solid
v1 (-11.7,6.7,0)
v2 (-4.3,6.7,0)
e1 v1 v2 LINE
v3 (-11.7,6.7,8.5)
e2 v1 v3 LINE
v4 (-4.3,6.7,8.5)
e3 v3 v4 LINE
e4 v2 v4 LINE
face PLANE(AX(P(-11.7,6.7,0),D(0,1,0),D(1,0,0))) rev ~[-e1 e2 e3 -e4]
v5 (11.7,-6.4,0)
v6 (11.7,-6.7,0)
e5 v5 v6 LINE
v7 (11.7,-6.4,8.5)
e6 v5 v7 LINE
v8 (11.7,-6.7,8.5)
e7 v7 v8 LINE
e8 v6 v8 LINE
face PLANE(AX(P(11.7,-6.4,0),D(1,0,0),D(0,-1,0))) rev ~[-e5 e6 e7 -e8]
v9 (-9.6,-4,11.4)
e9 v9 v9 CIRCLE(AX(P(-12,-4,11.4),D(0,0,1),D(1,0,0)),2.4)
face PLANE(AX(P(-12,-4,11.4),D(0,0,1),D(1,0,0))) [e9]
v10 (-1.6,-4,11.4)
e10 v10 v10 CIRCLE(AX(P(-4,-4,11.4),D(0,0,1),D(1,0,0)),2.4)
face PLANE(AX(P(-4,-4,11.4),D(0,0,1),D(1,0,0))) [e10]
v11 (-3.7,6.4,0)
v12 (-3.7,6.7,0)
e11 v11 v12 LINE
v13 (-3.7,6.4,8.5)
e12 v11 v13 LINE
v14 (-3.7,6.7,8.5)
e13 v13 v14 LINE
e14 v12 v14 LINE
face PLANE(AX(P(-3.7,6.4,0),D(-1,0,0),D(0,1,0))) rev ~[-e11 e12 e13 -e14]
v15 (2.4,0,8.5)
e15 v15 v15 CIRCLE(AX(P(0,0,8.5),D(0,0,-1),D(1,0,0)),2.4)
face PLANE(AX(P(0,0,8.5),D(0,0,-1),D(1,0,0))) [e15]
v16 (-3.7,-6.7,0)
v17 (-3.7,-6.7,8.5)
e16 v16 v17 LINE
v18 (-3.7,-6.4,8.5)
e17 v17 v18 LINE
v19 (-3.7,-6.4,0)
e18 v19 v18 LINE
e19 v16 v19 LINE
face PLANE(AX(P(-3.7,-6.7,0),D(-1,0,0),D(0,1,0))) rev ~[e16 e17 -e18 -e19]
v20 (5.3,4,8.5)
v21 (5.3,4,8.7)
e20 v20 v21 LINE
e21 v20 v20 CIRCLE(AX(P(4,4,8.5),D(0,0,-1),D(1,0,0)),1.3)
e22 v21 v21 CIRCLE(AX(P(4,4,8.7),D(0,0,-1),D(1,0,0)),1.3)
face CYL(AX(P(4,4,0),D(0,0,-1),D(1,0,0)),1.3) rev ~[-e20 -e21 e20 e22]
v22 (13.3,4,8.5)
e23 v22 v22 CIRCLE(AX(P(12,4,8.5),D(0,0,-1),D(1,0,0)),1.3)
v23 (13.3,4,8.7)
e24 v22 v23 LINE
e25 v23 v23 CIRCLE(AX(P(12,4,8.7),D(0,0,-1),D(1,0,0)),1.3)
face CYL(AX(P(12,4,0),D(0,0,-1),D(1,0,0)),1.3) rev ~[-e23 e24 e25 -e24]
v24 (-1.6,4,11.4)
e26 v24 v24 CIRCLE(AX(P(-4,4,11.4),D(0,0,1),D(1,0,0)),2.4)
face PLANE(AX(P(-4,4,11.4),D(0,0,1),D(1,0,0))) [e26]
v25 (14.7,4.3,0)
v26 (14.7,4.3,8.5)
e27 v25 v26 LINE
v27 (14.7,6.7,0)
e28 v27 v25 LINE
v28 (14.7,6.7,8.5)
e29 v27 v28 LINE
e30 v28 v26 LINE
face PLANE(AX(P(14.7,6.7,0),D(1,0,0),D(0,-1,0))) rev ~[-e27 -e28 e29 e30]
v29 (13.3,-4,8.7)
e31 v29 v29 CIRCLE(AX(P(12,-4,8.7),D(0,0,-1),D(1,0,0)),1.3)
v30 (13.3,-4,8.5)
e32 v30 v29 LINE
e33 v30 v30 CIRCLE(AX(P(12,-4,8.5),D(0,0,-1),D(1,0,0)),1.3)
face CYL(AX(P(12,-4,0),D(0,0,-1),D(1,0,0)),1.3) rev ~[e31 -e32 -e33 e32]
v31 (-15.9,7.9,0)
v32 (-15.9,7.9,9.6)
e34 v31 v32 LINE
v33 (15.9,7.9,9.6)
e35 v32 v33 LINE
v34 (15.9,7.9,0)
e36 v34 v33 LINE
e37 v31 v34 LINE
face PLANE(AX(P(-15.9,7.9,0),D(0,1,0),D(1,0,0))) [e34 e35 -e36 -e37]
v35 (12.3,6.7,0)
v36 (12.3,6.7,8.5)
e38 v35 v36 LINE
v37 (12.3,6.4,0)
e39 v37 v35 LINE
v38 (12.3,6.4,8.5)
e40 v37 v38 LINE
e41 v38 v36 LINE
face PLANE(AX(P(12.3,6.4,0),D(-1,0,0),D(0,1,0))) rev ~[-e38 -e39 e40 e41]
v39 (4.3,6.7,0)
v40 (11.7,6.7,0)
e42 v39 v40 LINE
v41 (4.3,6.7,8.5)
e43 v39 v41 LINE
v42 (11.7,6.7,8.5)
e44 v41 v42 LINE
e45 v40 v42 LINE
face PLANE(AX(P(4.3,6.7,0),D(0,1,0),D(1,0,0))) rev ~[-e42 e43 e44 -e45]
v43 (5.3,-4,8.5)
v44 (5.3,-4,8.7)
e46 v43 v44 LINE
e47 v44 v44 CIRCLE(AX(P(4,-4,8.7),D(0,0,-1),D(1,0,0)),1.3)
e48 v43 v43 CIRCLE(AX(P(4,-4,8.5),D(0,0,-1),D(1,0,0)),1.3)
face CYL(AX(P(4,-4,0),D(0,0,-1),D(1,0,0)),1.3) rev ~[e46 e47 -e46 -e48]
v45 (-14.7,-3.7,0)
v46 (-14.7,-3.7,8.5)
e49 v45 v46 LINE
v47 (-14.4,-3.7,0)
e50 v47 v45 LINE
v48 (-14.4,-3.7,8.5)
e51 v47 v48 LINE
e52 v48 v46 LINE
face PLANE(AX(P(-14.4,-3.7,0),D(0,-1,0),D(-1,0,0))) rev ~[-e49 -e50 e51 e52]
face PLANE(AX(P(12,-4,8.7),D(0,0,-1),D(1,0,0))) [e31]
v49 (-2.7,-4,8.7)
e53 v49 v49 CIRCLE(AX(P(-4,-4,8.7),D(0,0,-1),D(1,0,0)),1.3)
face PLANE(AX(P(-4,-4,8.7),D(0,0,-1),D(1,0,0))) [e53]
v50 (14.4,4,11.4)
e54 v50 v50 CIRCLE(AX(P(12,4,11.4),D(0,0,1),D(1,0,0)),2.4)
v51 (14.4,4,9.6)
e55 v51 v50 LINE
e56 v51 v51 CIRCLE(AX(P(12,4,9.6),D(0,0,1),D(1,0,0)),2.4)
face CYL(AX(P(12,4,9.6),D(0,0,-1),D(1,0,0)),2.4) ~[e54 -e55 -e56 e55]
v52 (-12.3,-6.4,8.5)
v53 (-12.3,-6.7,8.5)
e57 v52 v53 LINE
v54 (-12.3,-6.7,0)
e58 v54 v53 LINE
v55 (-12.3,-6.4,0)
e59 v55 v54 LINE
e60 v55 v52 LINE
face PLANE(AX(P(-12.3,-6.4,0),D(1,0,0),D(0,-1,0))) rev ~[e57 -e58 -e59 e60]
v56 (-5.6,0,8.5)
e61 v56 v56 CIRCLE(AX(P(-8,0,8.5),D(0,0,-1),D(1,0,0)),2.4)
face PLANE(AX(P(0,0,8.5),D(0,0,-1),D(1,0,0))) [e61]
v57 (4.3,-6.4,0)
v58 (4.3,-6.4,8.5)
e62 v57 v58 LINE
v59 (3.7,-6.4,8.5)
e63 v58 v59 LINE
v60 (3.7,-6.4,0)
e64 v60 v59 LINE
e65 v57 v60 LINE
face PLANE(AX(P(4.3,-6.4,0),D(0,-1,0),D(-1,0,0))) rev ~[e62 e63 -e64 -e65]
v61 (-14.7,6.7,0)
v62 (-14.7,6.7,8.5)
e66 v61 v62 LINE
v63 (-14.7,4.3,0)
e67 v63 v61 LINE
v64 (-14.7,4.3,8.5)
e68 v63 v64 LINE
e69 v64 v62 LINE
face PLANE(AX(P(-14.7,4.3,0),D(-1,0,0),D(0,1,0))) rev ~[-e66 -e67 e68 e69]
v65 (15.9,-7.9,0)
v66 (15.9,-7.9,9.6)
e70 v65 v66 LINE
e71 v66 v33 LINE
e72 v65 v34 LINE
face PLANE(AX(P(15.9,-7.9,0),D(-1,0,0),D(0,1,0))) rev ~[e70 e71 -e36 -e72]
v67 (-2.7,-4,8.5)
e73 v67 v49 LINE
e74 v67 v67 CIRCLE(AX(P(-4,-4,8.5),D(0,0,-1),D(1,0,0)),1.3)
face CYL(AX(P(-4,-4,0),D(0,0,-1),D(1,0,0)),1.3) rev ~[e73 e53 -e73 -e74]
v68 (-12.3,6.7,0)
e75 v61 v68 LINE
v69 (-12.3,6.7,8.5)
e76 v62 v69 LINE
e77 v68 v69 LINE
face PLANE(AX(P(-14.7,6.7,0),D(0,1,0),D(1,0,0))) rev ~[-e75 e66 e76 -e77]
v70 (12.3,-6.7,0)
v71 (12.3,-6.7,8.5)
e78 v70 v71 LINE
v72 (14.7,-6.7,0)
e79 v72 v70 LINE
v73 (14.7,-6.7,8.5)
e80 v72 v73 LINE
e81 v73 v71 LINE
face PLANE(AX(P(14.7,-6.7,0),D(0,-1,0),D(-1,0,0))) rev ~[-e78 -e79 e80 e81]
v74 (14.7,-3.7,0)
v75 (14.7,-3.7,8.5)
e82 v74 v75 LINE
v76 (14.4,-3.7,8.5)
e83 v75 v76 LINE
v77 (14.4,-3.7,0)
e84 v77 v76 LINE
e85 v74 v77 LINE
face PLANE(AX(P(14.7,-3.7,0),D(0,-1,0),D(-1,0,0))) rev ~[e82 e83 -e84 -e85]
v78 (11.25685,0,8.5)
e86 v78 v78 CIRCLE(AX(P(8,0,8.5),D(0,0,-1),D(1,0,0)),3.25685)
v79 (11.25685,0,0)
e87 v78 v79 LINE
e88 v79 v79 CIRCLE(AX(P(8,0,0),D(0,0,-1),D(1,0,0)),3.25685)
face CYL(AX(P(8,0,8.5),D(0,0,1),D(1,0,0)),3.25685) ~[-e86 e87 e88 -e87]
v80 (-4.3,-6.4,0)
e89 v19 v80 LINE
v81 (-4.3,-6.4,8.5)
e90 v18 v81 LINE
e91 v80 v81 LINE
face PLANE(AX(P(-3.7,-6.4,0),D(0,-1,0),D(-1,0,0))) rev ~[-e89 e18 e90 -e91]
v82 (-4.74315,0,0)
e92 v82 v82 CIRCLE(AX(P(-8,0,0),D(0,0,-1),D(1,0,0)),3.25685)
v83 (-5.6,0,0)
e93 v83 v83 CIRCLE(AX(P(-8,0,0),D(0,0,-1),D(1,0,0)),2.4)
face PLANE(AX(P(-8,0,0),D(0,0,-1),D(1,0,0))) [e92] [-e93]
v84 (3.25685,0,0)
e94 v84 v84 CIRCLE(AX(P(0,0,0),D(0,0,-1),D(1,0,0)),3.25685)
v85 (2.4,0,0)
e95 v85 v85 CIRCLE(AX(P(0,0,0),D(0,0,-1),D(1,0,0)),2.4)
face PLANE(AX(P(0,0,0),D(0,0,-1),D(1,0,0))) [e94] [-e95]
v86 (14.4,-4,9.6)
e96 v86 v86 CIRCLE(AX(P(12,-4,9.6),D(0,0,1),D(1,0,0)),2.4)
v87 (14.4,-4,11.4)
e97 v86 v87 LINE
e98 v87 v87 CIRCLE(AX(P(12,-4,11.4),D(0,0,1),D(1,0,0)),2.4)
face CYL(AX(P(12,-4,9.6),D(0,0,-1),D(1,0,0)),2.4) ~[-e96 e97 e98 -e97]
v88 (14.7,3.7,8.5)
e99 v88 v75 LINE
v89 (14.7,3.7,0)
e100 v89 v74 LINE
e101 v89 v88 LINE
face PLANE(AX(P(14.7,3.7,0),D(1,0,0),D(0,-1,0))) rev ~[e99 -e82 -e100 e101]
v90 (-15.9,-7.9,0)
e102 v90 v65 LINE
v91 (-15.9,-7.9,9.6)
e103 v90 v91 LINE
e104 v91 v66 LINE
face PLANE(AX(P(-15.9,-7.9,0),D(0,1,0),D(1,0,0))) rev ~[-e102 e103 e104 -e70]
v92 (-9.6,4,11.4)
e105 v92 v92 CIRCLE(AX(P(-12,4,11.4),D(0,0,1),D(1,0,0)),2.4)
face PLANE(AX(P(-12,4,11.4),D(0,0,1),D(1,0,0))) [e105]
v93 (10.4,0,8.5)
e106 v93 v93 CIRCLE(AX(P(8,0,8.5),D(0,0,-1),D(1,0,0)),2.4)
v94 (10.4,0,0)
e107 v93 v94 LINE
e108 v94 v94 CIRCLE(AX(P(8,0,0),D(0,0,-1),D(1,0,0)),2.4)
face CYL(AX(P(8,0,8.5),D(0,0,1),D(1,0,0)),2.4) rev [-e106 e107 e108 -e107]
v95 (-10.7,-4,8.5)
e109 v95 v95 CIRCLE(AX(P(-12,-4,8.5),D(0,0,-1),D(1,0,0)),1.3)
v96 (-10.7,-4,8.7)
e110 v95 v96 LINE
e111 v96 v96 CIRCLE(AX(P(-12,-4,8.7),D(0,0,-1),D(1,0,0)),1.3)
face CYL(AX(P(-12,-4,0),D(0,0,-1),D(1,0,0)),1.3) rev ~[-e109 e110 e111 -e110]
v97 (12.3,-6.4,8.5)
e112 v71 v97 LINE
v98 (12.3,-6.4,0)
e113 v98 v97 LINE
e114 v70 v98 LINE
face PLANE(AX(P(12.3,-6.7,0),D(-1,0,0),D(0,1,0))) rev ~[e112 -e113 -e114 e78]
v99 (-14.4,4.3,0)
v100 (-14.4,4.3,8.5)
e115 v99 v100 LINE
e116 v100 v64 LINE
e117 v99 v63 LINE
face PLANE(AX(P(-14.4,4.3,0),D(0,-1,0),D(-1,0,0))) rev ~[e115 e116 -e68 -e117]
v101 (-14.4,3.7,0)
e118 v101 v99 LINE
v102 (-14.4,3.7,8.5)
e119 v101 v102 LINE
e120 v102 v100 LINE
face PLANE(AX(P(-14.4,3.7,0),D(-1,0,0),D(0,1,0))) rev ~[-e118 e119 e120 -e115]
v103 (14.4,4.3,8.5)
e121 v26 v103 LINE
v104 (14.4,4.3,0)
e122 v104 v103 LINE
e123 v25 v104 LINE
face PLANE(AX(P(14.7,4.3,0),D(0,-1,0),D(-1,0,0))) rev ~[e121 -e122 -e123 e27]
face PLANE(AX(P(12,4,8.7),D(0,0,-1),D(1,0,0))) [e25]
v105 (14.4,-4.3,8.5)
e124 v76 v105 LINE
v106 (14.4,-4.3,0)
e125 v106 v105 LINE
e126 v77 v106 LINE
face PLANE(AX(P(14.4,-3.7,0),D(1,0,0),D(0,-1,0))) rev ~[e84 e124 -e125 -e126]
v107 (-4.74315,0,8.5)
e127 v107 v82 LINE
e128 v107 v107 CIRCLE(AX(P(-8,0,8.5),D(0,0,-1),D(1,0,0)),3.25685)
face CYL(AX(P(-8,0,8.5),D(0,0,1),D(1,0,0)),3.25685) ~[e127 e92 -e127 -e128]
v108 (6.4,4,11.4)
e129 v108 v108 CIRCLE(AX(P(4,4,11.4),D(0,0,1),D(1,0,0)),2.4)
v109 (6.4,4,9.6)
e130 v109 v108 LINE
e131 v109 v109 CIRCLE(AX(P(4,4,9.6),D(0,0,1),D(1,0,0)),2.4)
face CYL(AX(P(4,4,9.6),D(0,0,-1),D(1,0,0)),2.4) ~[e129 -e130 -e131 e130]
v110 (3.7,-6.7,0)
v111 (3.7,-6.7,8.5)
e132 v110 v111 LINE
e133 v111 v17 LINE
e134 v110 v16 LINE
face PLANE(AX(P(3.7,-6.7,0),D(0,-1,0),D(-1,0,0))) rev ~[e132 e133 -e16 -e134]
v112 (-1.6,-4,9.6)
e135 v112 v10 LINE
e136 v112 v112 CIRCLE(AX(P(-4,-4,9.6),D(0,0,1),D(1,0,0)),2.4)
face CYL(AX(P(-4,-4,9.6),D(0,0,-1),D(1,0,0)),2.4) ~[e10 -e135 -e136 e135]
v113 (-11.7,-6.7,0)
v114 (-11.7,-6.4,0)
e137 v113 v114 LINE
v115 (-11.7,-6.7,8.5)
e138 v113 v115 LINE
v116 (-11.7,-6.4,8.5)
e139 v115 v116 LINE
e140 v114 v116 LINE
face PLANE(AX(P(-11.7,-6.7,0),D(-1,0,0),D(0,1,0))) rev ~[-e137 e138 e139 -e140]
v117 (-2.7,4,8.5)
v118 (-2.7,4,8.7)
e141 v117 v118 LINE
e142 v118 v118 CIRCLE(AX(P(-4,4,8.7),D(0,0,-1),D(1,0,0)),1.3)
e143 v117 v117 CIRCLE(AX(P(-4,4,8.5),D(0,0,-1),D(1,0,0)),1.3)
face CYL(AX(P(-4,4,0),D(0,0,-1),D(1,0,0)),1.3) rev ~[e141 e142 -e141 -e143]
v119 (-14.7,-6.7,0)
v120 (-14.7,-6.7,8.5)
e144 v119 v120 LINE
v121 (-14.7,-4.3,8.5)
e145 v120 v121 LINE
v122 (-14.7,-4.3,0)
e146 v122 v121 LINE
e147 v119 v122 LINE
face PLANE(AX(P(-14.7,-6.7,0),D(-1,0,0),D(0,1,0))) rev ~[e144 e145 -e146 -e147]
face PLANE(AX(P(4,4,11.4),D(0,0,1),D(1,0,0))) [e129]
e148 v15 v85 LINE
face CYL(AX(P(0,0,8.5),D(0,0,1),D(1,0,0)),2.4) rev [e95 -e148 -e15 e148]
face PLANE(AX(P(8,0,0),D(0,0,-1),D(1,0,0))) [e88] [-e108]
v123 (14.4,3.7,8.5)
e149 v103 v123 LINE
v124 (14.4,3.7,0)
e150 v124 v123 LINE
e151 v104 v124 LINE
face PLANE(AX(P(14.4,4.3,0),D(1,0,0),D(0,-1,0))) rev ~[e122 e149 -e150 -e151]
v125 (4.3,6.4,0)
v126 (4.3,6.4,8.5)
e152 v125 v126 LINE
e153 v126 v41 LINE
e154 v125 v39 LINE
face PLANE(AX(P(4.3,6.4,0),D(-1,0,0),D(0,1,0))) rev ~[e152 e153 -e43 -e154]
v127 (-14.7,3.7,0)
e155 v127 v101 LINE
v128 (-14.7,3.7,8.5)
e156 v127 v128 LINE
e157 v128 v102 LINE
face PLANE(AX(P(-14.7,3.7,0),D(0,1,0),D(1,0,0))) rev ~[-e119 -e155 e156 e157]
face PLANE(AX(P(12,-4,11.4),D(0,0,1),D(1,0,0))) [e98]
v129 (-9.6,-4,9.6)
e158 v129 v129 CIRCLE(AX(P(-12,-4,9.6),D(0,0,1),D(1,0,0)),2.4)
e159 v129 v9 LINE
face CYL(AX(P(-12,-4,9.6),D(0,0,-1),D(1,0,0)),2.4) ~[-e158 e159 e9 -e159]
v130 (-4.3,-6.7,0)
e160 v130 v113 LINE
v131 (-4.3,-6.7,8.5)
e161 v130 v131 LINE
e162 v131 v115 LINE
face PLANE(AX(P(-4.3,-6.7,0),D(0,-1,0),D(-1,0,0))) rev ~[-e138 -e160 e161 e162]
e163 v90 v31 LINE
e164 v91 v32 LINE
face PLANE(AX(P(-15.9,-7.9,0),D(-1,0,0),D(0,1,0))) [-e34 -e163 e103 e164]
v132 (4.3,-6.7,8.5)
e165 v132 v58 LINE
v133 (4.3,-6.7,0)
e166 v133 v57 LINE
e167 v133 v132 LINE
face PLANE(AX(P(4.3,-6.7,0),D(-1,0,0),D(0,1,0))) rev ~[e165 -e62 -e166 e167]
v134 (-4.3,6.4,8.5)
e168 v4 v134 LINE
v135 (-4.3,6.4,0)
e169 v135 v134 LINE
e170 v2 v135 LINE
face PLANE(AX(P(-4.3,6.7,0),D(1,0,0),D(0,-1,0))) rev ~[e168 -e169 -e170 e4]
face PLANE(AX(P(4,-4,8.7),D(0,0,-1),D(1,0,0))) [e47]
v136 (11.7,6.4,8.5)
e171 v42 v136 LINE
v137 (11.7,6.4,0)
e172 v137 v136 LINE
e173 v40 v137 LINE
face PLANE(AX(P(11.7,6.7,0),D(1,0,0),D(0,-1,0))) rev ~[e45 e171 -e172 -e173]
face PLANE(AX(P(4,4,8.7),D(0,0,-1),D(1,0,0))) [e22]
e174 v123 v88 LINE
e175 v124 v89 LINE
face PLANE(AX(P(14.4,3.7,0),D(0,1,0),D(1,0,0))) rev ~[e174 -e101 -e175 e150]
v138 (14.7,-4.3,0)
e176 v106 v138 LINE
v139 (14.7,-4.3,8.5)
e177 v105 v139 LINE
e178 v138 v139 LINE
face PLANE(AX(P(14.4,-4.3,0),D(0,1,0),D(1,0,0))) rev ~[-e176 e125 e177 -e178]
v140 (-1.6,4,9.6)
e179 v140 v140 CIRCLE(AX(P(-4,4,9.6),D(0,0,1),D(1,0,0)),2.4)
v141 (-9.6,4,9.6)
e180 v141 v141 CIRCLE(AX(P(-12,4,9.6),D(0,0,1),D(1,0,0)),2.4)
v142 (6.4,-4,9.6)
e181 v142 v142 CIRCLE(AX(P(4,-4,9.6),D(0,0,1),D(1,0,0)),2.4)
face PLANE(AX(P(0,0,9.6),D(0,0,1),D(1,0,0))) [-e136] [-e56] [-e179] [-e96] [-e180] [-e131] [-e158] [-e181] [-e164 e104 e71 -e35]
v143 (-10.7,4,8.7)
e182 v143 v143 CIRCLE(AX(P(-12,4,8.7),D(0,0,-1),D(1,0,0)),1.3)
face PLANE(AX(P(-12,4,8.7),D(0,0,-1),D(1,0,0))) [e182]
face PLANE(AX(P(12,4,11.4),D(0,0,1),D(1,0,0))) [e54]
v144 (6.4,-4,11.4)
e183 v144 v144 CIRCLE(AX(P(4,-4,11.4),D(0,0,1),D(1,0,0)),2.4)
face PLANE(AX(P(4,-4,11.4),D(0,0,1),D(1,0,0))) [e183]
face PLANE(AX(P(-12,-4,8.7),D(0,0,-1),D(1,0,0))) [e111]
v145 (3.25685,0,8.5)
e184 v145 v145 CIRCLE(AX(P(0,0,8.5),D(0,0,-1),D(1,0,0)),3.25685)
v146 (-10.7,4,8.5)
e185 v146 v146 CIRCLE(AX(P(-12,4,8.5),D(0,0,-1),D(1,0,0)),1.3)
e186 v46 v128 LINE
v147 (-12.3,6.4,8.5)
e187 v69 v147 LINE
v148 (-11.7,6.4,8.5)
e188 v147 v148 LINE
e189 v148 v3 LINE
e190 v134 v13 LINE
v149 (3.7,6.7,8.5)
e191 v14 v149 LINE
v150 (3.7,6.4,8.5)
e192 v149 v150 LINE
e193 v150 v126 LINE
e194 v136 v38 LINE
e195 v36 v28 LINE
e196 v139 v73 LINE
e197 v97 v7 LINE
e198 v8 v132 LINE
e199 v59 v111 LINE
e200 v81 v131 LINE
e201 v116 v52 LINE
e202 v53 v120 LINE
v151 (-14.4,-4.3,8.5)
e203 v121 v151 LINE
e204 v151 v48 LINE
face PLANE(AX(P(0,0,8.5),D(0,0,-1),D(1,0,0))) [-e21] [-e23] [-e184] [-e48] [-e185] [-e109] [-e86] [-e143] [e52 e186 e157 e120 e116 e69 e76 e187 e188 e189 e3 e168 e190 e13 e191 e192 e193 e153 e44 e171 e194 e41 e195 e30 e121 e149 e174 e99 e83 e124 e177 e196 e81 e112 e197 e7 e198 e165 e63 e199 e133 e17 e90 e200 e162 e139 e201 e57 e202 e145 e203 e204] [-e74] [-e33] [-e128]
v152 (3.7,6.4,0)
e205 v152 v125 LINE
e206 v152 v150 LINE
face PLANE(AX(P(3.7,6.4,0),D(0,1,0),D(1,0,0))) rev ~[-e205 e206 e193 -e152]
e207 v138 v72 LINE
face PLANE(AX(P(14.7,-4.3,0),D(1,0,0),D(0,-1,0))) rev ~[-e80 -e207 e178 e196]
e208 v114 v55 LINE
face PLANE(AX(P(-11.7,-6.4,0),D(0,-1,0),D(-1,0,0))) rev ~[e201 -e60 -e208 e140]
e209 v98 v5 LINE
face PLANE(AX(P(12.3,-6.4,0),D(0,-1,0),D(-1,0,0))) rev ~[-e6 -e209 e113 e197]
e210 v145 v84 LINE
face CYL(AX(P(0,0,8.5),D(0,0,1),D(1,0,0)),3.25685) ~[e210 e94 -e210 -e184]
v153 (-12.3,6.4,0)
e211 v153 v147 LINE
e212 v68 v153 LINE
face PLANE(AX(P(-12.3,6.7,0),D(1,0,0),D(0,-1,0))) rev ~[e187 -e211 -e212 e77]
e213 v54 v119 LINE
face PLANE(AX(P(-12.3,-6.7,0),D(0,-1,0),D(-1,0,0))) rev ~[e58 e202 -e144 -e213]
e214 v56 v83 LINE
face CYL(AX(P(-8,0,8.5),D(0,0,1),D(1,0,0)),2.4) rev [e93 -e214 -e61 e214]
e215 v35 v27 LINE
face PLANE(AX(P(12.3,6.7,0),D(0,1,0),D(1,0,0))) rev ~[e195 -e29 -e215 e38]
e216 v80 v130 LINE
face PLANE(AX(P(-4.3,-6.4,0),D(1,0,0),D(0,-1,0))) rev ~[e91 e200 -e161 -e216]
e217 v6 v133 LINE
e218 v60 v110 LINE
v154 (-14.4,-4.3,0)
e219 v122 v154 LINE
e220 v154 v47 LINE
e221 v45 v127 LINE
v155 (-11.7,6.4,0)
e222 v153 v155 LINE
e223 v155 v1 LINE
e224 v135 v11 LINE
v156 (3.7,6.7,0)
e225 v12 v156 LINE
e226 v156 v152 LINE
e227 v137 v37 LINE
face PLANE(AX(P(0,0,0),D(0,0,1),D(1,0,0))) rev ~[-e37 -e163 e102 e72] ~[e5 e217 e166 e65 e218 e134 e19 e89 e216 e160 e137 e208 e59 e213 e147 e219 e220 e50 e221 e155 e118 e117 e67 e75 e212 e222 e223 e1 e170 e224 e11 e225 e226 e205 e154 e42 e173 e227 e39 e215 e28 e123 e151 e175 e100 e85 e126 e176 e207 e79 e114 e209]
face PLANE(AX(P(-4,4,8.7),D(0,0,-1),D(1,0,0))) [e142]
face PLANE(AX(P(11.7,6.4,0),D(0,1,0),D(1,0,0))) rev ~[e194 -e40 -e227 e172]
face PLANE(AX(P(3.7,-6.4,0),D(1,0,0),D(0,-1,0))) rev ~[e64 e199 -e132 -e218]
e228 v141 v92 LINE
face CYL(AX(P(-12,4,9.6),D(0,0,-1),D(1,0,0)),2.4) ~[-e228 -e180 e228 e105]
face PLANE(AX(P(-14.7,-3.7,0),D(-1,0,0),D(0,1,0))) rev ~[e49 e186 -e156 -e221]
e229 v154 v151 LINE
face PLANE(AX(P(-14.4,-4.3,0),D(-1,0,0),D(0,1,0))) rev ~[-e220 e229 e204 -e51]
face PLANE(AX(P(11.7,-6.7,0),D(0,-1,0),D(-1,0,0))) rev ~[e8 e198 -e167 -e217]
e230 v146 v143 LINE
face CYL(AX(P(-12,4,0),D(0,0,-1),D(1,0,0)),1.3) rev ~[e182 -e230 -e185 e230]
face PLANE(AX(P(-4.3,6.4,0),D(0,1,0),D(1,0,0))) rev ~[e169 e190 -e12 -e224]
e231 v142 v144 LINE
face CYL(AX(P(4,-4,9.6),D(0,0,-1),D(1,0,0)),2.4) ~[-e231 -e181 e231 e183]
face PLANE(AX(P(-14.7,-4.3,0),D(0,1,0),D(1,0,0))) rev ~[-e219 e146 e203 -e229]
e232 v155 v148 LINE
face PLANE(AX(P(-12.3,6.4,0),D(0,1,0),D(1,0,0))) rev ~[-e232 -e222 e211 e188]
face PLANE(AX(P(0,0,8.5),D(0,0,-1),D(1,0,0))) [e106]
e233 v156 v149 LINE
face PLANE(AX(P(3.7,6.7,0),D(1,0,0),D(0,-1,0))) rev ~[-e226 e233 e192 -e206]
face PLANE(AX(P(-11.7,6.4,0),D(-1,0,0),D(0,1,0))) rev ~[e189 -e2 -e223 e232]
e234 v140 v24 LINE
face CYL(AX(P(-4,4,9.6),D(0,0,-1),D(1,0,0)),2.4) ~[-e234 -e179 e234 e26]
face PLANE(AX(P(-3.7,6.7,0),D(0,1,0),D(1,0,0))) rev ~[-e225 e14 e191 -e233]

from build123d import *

# Parameters (mm, degrees)
F0_W     = 31.8
F0_H     = 15.8
F1_DEPTH = 9.6
F2_R     = 2.4
F3_DEPTH = 1.8
F4_R     = 1.3
F5_DEPTH = 8.7
F6_DEPTH = 8.5
F7_R     = 3.25685
F7_R_2   = 2.4
F8_DEPTH = 8.5


with BuildPart() as f1:
    # F0 (on Top) → F1 (new body)
    with BuildSketch(Plane.XY):
        Rectangle(F0_W, F0_H)
    extrude(amount=F1_DEPTH)

    # F2 (on face) → F3 (join)
    with BuildSketch(Plane.XY.offset(9.6)):
        with Locations((-12, 4)):
            Circle(F2_R)
        with Locations((-4, 4)):
            Circle(F2_R)
        with Locations((4, 4)):
            Circle(F2_R)
        with Locations((12, 4)):
            Circle(F2_R)
        with Locations((12, -4)):
            Circle(F2_R)
        with Locations((4, -4)):
            Circle(F2_R)
        with Locations((-4, -4)):
            Circle(F2_R)
        with Locations((-12, -4)):
            Circle(F2_R)
    extrude(amount=F3_DEPTH)

    # F4 (on face) → F5 (cut)
    with BuildSketch(Plane(origin=(0, 0, 0), x_dir=(1, 0, 0), z_dir=(0, 0, -1))):
        with Locations((-12, 4)):
            Circle(F4_R)
        with Locations((-4, 4)):
            Circle(F4_R)
        with Locations((4, 4)):
            Circle(F4_R)
        with Locations((12, 4)):
            Circle(F4_R)
        with Locations((12, -4)):
            Circle(F4_R)
        with Locations((4, -4)):
            Circle(F4_R)
        with Locations((-4, -4)):
            Circle(F4_R)
        with Locations((-12, -4)):
            Circle(F4_R)
    extrude(amount=-F5_DEPTH, mode=Mode.SUBTRACT)

    # F4 (on face) → F6 (cut)
    with BuildSketch(Plane(origin=(0, 0, 0), x_dir=(1, 0, 0), z_dir=(0, 0, -1))):
        Polygon((-12.3, 6.7), (-14.7, 6.7), (-14.7, 4.3), (-14.4, 4.3), (-14.4, 3.7), (-14.7, 3.7), (-14.7, -3.7), (-14.4, -3.7), (-14.4, -4.3), (-14.7, -4.3), (-14.7, -6.7), (-12.3, -6.7), (-12.3, -6.4), (-11.7, -6.4), (-11.7, -6.7), (-4.3, -6.7), (-4.3, -6.4), (-3.7, -6.4), (-3.7, -6.7), (3.7, -6.7), (3.7, -6.4), (4.3, -6.4), (4.3, -6.7), (11.7, -6.7), (11.7, -6.4), (12.3, -6.4), (12.3, -6.7), (14.7, -6.7), (14.7, -4.3), (14.4, -4.3), (14.4, -3.7), (14.7, -3.7), (14.7, 3.7), (14.4, 3.7), (14.4, 4.3), (14.7, 4.3), (14.7, 6.7), (12.3, 6.7), (12.3, 6.4), (11.7, 6.4), (11.7, 6.7), (4.3, 6.7), (4.3, 6.4), (3.7, 6.4), (3.7, 6.7), (-3.7, 6.7), (-3.7, 6.4), (-4.3, 6.4), (-4.3, 6.7), (-11.7, 6.7), (-11.7, 6.4), (-12.3, 6.4), align=None)
        with Locations((-12, -4)):
            Circle(F4_R, mode=Mode.SUBTRACT)
        with Locations((-4, -4)):
            Circle(F4_R, mode=Mode.SUBTRACT)
        with Locations((4, -4)):
            Circle(F4_R, mode=Mode.SUBTRACT)
        with Locations((12, -4)):
            Circle(F4_R, mode=Mode.SUBTRACT)
        with Locations((-12, 4)):
            Circle(F4_R, mode=Mode.SUBTRACT)
        with Locations((-4, 4)):
            Circle(F4_R, mode=Mode.SUBTRACT)
        with Locations((4, 4)):
            Circle(F4_R, mode=Mode.SUBTRACT)
        with Locations((12, 4)):
            Circle(F4_R, mode=Mode.SUBTRACT)
    extrude(amount=-F6_DEPTH, mode=Mode.SUBTRACT)

    # F7 (on face) → F8 (join, through all)
    with BuildSketch(Plane(origin=(0, 0, 8.5), x_dir=(1, 0, 0), z_dir=(0, 0, -1))):
        Circle(F7_R)
        Circle(F7_R_2, mode=Mode.SUBTRACT)
        with Locations((8, 0)):
            Circle(F7_R)
        with Locations((8, 0)):
            Circle(F7_R_2, mode=Mode.SUBTRACT)
        with Locations((-8, 0)):
            Circle(F7_R)
        with Locations((-8, 0)):
            Circle(F7_R_2, mode=Mode.SUBTRACT)
    extrude(amount=F8_DEPTH)


solid = f1.part
